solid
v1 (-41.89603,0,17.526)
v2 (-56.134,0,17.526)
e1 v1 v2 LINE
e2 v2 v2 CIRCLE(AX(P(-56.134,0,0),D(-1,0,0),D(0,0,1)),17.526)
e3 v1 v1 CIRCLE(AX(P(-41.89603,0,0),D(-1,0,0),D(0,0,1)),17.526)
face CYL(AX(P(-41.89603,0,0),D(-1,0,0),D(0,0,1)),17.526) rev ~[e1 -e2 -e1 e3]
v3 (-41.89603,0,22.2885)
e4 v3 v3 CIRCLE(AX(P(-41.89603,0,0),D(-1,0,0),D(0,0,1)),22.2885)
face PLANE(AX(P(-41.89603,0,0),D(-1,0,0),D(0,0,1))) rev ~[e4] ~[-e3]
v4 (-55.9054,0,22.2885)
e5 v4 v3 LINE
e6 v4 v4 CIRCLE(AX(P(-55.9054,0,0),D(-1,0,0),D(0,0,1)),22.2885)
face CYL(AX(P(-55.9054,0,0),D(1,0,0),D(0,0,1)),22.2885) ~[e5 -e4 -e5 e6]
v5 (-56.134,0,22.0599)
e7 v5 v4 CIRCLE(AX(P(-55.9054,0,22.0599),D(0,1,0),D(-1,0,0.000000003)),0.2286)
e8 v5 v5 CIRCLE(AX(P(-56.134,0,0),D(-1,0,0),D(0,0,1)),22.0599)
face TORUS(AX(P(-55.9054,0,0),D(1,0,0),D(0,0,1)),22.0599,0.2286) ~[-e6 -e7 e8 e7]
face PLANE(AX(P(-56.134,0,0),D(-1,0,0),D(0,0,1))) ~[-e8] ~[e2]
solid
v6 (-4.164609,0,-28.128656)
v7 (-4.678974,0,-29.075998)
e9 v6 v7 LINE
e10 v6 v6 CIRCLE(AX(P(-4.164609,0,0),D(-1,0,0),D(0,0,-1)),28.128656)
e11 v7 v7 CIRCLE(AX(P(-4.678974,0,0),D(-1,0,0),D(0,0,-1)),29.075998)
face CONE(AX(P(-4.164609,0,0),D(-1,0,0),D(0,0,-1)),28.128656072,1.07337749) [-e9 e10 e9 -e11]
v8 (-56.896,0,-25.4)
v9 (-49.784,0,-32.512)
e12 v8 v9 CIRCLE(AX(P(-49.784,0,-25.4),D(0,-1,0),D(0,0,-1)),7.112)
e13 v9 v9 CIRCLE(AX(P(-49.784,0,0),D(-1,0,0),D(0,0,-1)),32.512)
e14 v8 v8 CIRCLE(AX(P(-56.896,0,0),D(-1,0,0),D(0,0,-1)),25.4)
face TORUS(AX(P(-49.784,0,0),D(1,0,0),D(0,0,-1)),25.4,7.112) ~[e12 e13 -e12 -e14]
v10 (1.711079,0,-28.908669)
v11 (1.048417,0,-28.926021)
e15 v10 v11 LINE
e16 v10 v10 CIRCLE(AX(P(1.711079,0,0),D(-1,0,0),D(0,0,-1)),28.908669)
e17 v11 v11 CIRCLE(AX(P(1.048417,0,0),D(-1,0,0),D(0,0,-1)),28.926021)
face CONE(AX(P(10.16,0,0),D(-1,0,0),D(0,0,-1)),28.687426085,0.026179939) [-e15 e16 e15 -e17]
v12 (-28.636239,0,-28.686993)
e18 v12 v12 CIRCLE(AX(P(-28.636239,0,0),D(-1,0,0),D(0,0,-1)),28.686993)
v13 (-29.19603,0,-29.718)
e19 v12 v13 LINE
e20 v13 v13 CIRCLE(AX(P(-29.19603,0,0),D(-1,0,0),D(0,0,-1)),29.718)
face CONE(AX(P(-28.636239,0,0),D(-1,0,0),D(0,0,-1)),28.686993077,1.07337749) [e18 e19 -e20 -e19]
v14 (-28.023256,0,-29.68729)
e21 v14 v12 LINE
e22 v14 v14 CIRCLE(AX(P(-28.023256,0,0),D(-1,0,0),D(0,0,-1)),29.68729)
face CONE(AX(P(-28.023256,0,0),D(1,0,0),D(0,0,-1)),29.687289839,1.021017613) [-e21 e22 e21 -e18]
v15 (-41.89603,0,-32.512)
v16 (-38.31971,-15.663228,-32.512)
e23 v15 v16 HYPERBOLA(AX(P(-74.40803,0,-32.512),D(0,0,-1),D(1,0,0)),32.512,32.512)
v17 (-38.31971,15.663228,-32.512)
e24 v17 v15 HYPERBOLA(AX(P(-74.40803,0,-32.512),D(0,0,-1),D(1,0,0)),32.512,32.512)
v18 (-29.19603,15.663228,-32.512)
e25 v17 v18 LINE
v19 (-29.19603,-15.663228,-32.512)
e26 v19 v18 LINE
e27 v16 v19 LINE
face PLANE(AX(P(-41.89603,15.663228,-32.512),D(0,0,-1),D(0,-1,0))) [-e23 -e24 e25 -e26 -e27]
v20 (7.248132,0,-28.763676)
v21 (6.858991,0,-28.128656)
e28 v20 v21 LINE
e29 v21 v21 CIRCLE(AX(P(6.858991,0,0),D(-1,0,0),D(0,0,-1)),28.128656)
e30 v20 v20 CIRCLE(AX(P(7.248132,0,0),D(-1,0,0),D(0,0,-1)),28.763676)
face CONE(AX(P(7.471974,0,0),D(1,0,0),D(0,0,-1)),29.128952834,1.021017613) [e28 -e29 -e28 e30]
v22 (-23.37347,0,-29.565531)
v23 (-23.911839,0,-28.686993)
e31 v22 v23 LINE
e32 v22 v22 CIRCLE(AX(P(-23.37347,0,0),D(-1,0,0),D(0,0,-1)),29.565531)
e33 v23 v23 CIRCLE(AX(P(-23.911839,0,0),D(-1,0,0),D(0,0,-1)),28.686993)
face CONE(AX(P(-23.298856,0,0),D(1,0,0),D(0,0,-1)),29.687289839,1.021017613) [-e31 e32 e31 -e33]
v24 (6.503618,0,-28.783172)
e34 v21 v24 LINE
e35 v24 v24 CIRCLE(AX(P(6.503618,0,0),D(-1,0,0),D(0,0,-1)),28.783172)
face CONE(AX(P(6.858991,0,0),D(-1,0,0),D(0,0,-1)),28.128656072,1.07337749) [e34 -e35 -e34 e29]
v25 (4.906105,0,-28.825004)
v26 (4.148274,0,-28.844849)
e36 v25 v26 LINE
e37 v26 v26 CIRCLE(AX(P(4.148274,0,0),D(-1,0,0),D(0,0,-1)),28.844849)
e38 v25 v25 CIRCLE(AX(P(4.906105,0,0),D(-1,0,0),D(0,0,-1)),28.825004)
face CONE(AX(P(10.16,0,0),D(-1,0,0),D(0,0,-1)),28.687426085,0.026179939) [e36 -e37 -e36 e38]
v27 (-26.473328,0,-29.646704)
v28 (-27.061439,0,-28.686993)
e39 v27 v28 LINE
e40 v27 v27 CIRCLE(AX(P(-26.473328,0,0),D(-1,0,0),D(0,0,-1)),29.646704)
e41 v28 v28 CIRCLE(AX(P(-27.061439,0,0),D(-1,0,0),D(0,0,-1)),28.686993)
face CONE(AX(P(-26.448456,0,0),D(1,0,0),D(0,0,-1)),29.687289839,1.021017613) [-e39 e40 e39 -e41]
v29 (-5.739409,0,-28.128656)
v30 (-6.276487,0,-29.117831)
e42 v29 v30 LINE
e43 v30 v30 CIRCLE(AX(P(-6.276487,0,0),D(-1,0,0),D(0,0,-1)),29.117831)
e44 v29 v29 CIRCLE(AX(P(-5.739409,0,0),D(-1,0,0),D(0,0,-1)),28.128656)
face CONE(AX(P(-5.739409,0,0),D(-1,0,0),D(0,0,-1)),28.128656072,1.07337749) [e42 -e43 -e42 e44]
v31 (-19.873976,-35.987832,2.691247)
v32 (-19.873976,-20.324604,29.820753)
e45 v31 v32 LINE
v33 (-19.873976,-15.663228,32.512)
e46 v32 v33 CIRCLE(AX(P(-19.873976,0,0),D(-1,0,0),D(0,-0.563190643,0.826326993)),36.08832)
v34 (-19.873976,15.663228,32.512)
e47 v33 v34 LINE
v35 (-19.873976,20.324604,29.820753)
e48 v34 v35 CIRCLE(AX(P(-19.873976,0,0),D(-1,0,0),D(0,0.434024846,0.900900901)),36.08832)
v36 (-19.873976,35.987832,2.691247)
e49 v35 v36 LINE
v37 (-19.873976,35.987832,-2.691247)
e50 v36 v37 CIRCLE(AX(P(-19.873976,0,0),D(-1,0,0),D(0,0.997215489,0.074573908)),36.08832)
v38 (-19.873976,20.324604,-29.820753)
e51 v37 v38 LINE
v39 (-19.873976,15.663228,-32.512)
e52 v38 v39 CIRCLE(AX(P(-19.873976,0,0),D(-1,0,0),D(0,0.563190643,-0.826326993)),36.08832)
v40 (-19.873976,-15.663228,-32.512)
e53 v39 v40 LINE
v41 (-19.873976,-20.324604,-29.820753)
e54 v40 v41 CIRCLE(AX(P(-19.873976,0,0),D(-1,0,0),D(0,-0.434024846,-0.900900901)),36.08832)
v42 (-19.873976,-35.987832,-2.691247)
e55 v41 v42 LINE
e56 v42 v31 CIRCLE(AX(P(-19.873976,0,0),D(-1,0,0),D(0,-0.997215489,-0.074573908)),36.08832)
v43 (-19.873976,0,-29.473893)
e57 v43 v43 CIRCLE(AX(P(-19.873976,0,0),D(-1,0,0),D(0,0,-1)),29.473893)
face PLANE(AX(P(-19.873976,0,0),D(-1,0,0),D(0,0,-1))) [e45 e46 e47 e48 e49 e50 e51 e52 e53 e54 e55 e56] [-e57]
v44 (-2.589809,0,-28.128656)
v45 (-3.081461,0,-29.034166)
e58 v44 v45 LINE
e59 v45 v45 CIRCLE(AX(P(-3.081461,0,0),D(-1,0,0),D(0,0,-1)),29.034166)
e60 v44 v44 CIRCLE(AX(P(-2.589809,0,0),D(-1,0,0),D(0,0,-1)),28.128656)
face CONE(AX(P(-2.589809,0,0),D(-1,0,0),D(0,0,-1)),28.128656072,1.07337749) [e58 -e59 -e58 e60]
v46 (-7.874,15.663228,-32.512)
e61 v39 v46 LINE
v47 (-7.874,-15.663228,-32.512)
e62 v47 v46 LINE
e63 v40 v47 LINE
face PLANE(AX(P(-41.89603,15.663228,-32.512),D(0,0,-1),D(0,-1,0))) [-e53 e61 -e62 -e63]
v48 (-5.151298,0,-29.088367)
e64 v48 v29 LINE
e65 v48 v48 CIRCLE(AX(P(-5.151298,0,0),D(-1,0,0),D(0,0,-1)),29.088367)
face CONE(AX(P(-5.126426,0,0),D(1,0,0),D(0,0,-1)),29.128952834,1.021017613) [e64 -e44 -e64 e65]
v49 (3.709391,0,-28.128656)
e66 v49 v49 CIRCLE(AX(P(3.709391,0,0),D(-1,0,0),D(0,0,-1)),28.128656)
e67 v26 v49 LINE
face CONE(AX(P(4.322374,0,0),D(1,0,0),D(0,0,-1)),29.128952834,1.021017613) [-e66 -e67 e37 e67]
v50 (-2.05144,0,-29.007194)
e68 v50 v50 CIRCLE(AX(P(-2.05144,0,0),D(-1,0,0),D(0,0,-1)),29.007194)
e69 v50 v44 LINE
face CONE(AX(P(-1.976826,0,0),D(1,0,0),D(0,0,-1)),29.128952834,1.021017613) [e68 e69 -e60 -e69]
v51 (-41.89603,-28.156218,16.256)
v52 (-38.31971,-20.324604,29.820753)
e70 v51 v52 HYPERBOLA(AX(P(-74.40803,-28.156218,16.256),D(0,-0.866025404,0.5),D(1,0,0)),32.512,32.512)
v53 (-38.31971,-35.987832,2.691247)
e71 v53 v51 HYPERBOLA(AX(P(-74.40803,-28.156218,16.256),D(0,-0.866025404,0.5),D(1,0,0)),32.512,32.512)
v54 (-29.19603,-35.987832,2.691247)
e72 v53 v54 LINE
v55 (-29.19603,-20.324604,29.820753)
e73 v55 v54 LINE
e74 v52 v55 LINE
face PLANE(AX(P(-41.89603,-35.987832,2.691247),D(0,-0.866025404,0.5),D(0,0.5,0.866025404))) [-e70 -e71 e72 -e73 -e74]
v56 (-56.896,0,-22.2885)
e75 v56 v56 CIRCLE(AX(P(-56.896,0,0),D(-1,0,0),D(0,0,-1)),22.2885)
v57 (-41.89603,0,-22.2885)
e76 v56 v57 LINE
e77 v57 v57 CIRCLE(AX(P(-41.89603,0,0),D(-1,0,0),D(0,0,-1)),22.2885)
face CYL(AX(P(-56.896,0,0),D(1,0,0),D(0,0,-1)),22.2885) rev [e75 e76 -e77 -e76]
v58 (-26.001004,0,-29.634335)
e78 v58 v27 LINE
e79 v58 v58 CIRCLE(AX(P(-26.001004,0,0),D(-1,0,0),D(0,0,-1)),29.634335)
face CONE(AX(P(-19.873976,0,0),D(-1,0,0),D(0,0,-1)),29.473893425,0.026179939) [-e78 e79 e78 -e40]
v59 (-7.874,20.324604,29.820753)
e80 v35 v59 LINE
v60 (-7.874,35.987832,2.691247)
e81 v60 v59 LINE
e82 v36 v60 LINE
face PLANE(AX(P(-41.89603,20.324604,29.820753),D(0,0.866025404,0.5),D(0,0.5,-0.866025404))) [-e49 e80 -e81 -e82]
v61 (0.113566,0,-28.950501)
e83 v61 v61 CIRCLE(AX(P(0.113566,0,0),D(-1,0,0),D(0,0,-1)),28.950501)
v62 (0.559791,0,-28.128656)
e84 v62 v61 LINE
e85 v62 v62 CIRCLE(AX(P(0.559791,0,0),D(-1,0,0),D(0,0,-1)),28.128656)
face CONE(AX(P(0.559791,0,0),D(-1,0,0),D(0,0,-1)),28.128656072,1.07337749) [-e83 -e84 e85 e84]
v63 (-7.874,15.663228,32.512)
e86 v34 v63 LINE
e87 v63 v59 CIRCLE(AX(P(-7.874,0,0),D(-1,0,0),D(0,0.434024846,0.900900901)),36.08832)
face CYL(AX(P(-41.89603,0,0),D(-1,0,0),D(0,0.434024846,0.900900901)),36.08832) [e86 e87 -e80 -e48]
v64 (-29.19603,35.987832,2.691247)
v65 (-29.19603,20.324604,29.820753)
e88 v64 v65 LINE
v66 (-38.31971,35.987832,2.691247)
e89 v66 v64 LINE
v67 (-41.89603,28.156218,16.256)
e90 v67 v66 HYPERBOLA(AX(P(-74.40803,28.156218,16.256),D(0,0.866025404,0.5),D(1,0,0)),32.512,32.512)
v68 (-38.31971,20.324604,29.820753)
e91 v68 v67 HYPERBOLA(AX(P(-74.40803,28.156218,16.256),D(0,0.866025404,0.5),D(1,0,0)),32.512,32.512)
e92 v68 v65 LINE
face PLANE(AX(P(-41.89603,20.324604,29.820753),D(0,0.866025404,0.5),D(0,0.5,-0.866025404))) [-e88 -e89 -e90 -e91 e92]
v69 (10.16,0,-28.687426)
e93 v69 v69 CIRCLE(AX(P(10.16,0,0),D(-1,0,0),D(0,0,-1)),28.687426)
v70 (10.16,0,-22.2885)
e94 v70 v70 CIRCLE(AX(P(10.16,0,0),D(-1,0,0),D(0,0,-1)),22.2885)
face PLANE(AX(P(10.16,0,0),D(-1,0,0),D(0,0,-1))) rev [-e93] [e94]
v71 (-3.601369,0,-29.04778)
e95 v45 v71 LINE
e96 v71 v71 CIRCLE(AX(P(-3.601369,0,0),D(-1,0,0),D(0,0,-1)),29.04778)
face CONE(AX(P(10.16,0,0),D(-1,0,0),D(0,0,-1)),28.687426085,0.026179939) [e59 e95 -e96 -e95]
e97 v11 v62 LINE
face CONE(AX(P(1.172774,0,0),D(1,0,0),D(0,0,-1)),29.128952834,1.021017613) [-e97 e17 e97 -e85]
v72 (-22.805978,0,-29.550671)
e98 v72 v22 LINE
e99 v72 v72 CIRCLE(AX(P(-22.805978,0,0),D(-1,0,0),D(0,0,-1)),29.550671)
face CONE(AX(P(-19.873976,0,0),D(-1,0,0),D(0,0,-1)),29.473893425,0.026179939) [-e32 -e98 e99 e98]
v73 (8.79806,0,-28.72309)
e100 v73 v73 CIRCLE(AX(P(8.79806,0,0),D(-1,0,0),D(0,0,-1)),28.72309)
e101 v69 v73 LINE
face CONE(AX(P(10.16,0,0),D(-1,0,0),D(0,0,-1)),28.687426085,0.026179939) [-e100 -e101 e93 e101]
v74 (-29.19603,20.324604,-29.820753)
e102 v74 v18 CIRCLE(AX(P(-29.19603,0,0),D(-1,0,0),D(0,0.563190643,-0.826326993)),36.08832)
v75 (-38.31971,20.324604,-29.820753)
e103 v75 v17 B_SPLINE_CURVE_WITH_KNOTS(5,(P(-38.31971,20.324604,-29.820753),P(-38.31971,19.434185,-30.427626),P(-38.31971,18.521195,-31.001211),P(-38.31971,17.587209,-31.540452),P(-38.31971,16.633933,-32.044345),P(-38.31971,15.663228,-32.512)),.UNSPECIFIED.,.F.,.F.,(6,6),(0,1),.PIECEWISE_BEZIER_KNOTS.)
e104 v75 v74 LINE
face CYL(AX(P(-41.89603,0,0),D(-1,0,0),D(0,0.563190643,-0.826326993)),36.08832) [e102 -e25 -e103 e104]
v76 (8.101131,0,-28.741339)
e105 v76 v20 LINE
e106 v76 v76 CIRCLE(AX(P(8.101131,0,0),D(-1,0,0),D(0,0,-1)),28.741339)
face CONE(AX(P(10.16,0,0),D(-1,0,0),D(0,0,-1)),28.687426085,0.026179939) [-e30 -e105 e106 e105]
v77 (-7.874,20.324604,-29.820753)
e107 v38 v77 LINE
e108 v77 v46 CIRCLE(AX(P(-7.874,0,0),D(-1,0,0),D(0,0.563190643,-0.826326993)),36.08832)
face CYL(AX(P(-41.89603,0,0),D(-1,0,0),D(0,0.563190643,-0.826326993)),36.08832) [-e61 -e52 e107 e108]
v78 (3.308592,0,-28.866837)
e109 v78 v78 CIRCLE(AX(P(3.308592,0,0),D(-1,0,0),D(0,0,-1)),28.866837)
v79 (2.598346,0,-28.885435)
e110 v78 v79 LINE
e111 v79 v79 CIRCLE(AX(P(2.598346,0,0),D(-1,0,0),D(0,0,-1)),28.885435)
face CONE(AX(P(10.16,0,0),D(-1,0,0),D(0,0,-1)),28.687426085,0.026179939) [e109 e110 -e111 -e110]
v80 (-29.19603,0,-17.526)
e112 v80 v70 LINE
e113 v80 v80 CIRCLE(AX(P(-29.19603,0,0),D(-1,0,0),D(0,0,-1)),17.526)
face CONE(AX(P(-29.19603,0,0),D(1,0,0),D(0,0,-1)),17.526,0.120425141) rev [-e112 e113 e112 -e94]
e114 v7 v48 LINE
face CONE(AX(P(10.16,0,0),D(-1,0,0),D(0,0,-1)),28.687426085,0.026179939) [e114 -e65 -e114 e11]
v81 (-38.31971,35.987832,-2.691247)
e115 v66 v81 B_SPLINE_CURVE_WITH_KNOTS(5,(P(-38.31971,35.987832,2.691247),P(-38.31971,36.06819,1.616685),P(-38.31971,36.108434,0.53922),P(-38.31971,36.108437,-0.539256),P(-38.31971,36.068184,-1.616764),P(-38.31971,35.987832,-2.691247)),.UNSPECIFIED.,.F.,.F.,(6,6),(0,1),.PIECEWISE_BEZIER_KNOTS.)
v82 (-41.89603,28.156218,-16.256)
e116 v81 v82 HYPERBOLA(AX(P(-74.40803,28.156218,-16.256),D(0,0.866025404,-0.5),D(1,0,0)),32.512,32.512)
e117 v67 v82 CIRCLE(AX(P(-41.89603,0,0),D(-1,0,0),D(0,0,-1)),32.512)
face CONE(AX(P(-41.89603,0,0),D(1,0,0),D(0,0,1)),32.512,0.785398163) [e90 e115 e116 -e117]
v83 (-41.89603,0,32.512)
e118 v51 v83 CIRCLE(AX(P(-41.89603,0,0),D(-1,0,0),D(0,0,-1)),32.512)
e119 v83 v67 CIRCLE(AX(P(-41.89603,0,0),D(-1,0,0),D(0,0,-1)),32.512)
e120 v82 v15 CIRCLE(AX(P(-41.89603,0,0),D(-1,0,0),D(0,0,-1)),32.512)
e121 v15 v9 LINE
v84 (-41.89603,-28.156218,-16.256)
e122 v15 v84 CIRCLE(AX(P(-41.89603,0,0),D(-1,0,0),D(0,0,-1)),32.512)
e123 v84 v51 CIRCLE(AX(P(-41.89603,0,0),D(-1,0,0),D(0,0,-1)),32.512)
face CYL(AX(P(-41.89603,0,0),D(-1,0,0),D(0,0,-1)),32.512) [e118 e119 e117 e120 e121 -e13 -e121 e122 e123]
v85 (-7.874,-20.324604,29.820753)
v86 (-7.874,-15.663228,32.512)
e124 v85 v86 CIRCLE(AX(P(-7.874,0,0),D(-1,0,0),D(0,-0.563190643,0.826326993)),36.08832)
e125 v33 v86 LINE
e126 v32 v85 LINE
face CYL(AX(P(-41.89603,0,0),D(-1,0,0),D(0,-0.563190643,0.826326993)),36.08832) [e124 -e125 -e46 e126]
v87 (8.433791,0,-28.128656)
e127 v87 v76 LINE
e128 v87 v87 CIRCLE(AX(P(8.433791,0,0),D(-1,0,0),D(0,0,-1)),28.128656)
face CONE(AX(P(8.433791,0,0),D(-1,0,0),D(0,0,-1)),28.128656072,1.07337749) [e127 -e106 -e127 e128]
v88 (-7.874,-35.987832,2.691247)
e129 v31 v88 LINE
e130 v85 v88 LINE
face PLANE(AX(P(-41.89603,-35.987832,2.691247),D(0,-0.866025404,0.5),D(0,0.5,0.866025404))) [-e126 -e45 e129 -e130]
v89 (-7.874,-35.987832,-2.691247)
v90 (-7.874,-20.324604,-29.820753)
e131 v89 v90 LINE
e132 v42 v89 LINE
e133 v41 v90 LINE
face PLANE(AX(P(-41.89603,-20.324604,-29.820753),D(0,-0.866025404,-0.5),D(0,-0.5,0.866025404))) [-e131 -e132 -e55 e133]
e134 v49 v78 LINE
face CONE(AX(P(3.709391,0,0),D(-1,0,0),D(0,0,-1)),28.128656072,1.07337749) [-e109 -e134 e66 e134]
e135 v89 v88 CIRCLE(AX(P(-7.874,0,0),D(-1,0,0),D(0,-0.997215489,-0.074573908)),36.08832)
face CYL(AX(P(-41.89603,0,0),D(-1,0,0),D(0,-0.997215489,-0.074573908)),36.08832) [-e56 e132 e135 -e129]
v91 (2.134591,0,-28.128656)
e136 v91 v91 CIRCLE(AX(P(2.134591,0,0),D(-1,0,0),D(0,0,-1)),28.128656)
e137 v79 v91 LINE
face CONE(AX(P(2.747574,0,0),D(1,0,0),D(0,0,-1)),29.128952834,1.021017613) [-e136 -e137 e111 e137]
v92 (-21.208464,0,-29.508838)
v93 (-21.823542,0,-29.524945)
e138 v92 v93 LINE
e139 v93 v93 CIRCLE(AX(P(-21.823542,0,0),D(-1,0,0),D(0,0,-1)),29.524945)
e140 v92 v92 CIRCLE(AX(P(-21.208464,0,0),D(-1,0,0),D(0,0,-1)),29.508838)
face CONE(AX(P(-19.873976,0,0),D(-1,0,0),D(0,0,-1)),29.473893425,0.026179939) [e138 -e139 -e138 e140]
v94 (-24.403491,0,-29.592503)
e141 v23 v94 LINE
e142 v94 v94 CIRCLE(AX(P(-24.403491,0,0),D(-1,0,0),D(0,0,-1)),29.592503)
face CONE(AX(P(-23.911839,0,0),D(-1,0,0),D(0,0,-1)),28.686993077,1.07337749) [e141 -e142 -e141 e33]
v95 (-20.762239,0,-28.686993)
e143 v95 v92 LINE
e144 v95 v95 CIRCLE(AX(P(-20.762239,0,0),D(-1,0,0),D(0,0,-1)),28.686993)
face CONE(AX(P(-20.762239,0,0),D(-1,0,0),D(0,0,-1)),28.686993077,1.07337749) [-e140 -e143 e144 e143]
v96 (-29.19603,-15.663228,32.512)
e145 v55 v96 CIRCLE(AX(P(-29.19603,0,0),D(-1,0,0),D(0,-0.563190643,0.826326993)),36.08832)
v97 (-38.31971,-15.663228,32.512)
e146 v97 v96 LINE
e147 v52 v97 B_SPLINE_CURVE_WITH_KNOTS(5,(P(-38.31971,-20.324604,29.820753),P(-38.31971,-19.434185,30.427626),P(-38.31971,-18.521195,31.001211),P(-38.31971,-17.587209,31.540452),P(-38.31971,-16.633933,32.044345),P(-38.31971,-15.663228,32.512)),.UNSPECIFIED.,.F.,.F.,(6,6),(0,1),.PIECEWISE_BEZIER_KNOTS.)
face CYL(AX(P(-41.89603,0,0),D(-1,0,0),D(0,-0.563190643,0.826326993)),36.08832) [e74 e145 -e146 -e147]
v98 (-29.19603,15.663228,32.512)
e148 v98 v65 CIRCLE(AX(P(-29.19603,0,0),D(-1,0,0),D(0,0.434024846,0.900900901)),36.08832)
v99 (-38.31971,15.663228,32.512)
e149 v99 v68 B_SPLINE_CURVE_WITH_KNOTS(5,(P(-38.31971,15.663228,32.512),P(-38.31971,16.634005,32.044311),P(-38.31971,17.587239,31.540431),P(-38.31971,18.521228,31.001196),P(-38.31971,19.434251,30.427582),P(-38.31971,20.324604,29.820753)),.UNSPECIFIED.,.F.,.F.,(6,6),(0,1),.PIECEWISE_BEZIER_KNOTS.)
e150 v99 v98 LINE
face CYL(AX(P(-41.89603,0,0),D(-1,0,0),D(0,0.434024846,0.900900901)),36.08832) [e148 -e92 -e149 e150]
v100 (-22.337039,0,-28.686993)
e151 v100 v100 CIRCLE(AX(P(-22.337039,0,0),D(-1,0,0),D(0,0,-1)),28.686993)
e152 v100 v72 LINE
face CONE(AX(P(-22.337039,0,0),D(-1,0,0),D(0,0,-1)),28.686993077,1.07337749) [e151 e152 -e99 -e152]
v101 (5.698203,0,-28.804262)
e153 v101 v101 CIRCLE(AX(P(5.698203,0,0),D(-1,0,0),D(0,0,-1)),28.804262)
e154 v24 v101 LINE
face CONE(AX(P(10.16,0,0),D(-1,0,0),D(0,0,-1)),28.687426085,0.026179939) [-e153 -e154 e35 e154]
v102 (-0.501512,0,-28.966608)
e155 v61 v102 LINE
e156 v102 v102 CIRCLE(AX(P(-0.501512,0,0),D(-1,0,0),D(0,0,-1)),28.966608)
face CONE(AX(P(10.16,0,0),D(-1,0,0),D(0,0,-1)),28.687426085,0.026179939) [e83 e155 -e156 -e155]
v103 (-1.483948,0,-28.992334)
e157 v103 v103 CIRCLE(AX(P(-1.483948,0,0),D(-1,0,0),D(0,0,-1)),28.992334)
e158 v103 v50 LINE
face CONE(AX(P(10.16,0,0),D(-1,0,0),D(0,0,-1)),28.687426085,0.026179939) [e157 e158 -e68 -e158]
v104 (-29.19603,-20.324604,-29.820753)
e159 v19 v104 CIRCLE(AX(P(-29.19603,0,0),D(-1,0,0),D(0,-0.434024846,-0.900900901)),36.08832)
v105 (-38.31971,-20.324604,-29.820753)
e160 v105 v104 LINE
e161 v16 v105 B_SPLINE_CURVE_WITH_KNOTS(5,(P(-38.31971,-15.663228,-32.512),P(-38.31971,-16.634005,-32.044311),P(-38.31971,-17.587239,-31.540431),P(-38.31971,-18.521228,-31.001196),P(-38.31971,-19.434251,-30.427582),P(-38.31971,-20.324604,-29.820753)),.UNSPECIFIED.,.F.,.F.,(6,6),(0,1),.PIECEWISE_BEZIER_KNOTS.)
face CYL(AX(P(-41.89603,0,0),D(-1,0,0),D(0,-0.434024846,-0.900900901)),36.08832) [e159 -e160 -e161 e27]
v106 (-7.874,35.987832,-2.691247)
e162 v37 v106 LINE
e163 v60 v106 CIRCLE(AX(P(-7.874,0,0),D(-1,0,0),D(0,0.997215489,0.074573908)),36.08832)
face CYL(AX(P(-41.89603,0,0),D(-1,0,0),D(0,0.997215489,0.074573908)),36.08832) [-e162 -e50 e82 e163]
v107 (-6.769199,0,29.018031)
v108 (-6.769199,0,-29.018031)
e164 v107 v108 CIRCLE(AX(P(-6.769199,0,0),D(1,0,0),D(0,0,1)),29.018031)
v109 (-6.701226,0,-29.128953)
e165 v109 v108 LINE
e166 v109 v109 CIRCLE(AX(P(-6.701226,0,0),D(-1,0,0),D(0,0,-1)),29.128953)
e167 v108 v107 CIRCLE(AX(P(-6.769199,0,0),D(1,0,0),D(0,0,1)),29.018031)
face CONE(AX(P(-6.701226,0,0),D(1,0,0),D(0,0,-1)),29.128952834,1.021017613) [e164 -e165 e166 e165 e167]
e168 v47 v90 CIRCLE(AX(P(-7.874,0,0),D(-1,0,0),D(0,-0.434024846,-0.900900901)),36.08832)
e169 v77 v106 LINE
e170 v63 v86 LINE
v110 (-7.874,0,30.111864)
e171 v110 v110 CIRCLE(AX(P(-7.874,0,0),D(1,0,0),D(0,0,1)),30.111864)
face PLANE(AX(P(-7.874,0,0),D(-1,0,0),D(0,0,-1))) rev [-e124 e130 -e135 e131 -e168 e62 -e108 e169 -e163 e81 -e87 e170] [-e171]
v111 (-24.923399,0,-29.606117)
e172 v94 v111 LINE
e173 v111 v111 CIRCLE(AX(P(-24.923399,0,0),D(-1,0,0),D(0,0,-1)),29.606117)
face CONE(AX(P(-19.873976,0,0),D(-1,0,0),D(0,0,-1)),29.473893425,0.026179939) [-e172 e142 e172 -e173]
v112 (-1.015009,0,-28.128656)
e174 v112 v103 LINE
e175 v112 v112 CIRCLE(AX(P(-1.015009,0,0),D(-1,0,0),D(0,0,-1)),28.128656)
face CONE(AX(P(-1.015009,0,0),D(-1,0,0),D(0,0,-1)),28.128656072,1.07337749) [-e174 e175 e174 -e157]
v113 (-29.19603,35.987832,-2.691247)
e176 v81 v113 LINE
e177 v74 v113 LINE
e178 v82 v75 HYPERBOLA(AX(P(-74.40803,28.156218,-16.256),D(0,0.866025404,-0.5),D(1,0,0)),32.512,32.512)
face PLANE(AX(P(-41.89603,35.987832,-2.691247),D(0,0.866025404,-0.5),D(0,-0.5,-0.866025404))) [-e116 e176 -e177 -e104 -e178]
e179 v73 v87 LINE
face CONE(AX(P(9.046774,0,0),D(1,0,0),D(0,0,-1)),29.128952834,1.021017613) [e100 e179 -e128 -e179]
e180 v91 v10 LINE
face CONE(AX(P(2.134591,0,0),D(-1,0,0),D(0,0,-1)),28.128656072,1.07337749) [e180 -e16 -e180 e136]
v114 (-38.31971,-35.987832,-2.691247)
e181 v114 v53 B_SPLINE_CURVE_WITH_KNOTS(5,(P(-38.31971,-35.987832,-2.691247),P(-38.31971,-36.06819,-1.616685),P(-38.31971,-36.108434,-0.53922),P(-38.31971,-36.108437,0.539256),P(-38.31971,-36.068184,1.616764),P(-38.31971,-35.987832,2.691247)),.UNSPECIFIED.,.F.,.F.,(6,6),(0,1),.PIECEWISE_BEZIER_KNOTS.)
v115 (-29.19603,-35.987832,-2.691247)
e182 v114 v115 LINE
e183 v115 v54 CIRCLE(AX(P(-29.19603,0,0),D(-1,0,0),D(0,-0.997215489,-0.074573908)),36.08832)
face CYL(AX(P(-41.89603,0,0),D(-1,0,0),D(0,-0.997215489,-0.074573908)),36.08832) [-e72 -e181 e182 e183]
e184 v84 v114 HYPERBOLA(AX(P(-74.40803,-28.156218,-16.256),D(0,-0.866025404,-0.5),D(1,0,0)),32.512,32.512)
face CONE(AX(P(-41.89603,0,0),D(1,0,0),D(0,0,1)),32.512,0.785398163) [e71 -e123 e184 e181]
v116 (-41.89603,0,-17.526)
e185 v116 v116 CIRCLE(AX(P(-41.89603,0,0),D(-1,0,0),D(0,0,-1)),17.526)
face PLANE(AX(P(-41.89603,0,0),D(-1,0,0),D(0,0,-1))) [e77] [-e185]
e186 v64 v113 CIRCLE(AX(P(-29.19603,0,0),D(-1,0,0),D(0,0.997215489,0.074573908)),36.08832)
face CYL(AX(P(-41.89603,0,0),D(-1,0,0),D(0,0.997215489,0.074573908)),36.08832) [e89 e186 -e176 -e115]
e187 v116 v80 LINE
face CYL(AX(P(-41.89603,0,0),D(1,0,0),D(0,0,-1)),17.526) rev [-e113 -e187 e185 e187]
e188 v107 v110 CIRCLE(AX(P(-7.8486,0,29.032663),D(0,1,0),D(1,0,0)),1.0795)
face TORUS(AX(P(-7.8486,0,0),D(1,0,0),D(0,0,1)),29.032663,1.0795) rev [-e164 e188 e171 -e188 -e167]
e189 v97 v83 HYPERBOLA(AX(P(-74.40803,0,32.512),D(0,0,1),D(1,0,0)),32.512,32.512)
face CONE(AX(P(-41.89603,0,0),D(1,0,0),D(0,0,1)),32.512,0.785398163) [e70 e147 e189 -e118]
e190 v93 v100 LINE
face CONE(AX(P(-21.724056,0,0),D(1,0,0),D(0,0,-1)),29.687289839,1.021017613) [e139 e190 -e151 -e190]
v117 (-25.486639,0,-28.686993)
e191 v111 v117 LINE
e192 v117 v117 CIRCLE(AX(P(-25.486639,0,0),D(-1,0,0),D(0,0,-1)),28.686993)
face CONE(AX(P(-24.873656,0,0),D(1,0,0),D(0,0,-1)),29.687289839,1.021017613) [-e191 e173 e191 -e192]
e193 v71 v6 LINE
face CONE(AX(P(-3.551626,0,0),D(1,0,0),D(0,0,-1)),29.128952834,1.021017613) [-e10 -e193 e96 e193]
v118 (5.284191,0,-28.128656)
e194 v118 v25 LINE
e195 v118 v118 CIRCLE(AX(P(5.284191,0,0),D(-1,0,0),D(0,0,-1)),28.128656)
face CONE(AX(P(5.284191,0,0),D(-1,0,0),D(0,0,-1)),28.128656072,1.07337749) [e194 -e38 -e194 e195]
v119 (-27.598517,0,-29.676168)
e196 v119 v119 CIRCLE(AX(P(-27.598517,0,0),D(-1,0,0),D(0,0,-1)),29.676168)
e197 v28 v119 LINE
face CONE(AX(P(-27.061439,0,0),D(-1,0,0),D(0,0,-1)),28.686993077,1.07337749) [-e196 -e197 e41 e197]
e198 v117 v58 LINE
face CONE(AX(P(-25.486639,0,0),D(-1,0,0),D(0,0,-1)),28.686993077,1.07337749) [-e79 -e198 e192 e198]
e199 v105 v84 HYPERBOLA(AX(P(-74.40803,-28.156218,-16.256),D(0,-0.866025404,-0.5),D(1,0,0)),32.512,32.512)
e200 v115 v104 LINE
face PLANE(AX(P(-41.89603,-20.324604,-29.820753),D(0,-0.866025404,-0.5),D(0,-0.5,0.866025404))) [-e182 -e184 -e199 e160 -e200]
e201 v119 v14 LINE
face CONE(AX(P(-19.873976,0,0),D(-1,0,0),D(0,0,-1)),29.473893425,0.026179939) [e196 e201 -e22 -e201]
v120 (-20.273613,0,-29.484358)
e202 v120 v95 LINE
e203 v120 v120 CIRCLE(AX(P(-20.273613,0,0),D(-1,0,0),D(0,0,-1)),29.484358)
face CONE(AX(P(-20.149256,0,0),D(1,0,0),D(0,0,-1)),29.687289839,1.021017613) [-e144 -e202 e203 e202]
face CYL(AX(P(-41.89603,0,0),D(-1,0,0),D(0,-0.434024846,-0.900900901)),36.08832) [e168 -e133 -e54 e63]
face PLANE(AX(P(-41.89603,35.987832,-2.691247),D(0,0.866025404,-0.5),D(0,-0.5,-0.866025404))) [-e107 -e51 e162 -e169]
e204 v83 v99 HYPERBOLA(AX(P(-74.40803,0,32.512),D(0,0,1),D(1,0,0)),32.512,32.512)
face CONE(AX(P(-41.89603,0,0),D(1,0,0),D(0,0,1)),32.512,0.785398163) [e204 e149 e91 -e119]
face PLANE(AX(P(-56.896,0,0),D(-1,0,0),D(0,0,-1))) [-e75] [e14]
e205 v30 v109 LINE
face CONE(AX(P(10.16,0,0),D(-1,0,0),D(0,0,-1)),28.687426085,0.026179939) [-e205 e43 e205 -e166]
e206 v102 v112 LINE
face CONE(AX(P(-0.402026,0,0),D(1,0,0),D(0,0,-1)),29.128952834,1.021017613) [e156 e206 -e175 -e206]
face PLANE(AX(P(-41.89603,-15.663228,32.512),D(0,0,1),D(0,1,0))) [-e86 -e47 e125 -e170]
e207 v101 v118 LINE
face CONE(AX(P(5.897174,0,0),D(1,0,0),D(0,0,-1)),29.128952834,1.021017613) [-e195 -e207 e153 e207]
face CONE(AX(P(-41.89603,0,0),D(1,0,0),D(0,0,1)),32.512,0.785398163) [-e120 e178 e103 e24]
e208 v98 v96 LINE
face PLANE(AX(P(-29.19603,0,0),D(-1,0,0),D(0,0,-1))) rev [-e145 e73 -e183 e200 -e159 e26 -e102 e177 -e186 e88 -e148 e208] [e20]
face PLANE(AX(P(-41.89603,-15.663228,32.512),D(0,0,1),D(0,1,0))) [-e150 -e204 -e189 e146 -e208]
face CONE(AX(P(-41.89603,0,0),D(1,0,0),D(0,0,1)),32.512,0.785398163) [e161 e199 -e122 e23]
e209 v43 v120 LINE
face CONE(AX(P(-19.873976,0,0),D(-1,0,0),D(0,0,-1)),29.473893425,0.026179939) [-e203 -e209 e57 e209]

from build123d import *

# Parameters (mm, degrees)
LPATTERN6_COUNT    = 6
LPATTERN6_PITCH    = 1.5748
LPATTERN7_COUNT    = 11
LPATTERN7_PITCH    = 1.5748
SKETCH12_OUTSIDE_W = 171.2
SKETCH12_OUTSIDE_H = 171.2
CUT_EXTRUDE2_DEPTH = 53.05603
FILLET4_R          = 7.112
SKETCH19_OUTSIDE_W = 98.628
SKETCH19_OUTSIDE_H = 105.78
SKETCH19_OUTSIDE_R = 32.512
CUT_EXTRUDE3_DEPTH = 3.99796
CUT_EXTRUDE3_DRAFT = -45
SKETCH28_R         = 1.0795


with BuildPart() as part:
    # Sketch10 → Revolve2 (revolve)
    with BuildSketch(Plane.XY, mode=Mode.PRIVATE) as revolve2_sk:
        Polygon((-41.89603, 17.526), (-29.19603, 17.526), (10.16, 22.2885), (10.16, 28.687426085), (-7.874, 29.159662995), (-7.874, 65.024), (-19.873976, 65.024), (-19.873976, 29.473893425), (-29.19603, 29.718), (-29.19603, 65.024), (-41.89603, 65.024), (-41.89603, 32.512), (-56.896, 32.512), (-56.896, 22.2885), (-41.89603, 22.2885), align=None)
    revolve(revolve2_sk.sketch.rotate(Axis((0, 0, 0), (-1, 0, 0)), 90), axis=Axis((0, 0, 0), (-1, 0, 0)))  # turned: the seam where the file's is

    # Sketch26 → Cut-Revolve1 (revolve, cut)
    with BuildSketch(Plane.XY, mode=Mode.PRIVATE) as cut_revolve1_sk:
        Polygon((-29.19603, 29.718), (-28.023256271, 29.687289839), (-28.636238915, 28.686993077), align=None)
    cut_revolve1 = revolve(cut_revolve1_sk.sketch.rotate(Axis((0, 0, 0), (-1, 0, 0)), 90), axis=Axis((0, 0, 0), (-1, 0, 0)), mode=Mode.SUBTRACT)  # turned: the seam where the file's is

    # LPattern6: Cut-Revolve1 ×6
    with Locations(*[(i * LPATTERN6_PITCH, 0, 0) for i in range(1, LPATTERN6_COUNT)]):
        add(cut_revolve1, mode=Mode.SUBTRACT)

    # Sketch27 → Cut-Revolve2 (revolve, cut)
    with BuildSketch(Plane.XY, mode=Mode.PRIVATE) as cut_revolve2_sk:
        Polygon((-7.874, 29.159662995), (-6.701226271, 29.128952834), (-7.314208915, 28.128656072), align=None)
    cut_revolve2 = revolve(cut_revolve2_sk.sketch.rotate(Axis((0, 0, 0), (-1, 0, 0)), 90), axis=Axis((0, 0, 0), (-1, 0, 0)), mode=Mode.SUBTRACT)  # turned: the seam where the file's is

    # LPattern7: Cut-Revolve2 ×11
    with Locations(*[(i * LPATTERN7_PITCH, 0, 0) for i in range(1, LPATTERN7_COUNT)]):
        add(cut_revolve2, mode=Mode.SUBTRACT)

    # Sketch12 outside → Cut-Extrude2 (cut, through all)
    with BuildSketch(Plane.ZY.offset(41.89603)):
        Rectangle(SKETCH12_OUTSIDE_W, SKETCH12_OUTSIDE_H)
        with BuildLine():
            Line((-2.69124706, 35.987831689), (-29.82075294, 20.324604167))
            ThreePointArc((-29.82075294, 20.324604167), (-31.2534019, 18.04416), (-32.512, 15.663227523))
            Line((-32.512, 15.663227523), (-32.512, -15.663227523))
            ThreePointArc((-32.512, -15.663227523), (-31.2534019, -18.04416), (-29.82075294, -20.324604167))
            Line((-29.82075294, -20.324604167), (-2.69124706, -35.987831689))
            ThreePointArc((-2.69124706, -35.987831689), (0, -36.08832), (2.69124706, -35.987831689))
            Line((2.69124706, -35.987831689), (29.82075294, -20.324604167))
            ThreePointArc((29.82075294, -20.324604167), (31.2534019, -18.04416), (32.512, -15.663227523))
            Line((32.512, -15.663227523), (32.512, 15.663227523))
            ThreePointArc((32.512, 15.663227523), (31.2534019, 18.04416), (29.82075294, 20.324604167))
            Line((29.82075294, 20.324604167), (2.69124706, 35.987831689))
            ThreePointArc((2.69124706, 35.987831689), (0, 36.08832), (-2.69124706, 35.987831689))
        make_face(mode=Mode.SUBTRACT)
    extrude(amount=-CUT_EXTRUDE2_DEPTH, mode=Mode.SUBTRACT)

    # Fillet4
    fillet4_edges = [part.edges().sort_by_distance(p)[0] for p in [
        (-56.896, 0, 32.512),
    ]]
    fillet(fillet4_edges, radius=FILLET4_R)


with BuildPart() as body_2:
    # Sketch30 → Revolve8 (revolve)
    with BuildSketch(Plane.XY, mode=Mode.PRIVATE) as revolve8_sk:
        with BuildLine():
            Line((-55.9054, 22.2885), (-41.89603, 22.2885))
            Line((-41.89603, 22.2885), (-41.89603, 17.526))
            Line((-41.89603, 17.526), (-56.134, 17.526))
            Line((-56.134, 17.526), (-56.134, 22.0599))
            ThreePointArc((-56.134, 22.0599), (-56.06704461, 22.22154461), (-55.9054, 22.2885))
        make_face()
    revolve(revolve8_sk.sketch.rotate(Axis((0, 0, 0), (-1, 0, 0)), 270), axis=Axis((0, 0, 0), (-1, 0, 0)))  # turned: the seam where the file's is


with BuildPart() as cut_extrude3_tool:
    # Sketch19 outside → Cut-Extrude3 (with draft: the straight prism first)
    with BuildSketch(Plane.ZY.offset(41.89603)):
        Rectangle(SKETCH19_OUTSIDE_W, SKETCH19_OUTSIDE_H)
        Circle(SKETCH19_OUTSIDE_R, mode=Mode.SUBTRACT)
    extrude(amount=-CUT_EXTRUDE3_DEPTH)
    # Cut-Extrude3: the draft: its side faces are tilted about the plane it starts from
    cut_extrude3_sides = [cut_extrude3_tool.faces().sort_by_distance(p)[0] for p in [
        (-39.89705, -52.89, 0),
        (-39.89705, 0, 49.314),
        (-39.89705, 52.89, 0),
        (-39.89705, 0, -49.314),
        (-39.89705, 0, -32.512),
    ]]
    draft(cut_extrude3_sides, Plane.ZY.offset(41.89603), CUT_EXTRUDE3_DRAFT)


with BuildPart() as part_1:
    add(part.part)

    # Cut-Extrude3: cut by cut_extrude3_tool
    add(cut_extrude3_tool.part, mode=Mode.SUBTRACT)

    # Sketch28 → Cut-Revolve3 (revolve, cut)
    with BuildSketch(Plane.XY, mode=Mode.PRIVATE) as cut_revolve3_sk:
        with Locations((-7.8486, -29.032662995)):
            Circle(SKETCH28_R)
    revolve(cut_revolve3_sk.sketch.rotate(Axis((10.16, 0, 0), (-1, 0, 0)), 90), axis=Axis((10.16, 0, 0), (-1, 0, 0)), mode=Mode.SUBTRACT)  # turned: the seam where the file's is


solid = Compound([body_2.part, part_1.part])
